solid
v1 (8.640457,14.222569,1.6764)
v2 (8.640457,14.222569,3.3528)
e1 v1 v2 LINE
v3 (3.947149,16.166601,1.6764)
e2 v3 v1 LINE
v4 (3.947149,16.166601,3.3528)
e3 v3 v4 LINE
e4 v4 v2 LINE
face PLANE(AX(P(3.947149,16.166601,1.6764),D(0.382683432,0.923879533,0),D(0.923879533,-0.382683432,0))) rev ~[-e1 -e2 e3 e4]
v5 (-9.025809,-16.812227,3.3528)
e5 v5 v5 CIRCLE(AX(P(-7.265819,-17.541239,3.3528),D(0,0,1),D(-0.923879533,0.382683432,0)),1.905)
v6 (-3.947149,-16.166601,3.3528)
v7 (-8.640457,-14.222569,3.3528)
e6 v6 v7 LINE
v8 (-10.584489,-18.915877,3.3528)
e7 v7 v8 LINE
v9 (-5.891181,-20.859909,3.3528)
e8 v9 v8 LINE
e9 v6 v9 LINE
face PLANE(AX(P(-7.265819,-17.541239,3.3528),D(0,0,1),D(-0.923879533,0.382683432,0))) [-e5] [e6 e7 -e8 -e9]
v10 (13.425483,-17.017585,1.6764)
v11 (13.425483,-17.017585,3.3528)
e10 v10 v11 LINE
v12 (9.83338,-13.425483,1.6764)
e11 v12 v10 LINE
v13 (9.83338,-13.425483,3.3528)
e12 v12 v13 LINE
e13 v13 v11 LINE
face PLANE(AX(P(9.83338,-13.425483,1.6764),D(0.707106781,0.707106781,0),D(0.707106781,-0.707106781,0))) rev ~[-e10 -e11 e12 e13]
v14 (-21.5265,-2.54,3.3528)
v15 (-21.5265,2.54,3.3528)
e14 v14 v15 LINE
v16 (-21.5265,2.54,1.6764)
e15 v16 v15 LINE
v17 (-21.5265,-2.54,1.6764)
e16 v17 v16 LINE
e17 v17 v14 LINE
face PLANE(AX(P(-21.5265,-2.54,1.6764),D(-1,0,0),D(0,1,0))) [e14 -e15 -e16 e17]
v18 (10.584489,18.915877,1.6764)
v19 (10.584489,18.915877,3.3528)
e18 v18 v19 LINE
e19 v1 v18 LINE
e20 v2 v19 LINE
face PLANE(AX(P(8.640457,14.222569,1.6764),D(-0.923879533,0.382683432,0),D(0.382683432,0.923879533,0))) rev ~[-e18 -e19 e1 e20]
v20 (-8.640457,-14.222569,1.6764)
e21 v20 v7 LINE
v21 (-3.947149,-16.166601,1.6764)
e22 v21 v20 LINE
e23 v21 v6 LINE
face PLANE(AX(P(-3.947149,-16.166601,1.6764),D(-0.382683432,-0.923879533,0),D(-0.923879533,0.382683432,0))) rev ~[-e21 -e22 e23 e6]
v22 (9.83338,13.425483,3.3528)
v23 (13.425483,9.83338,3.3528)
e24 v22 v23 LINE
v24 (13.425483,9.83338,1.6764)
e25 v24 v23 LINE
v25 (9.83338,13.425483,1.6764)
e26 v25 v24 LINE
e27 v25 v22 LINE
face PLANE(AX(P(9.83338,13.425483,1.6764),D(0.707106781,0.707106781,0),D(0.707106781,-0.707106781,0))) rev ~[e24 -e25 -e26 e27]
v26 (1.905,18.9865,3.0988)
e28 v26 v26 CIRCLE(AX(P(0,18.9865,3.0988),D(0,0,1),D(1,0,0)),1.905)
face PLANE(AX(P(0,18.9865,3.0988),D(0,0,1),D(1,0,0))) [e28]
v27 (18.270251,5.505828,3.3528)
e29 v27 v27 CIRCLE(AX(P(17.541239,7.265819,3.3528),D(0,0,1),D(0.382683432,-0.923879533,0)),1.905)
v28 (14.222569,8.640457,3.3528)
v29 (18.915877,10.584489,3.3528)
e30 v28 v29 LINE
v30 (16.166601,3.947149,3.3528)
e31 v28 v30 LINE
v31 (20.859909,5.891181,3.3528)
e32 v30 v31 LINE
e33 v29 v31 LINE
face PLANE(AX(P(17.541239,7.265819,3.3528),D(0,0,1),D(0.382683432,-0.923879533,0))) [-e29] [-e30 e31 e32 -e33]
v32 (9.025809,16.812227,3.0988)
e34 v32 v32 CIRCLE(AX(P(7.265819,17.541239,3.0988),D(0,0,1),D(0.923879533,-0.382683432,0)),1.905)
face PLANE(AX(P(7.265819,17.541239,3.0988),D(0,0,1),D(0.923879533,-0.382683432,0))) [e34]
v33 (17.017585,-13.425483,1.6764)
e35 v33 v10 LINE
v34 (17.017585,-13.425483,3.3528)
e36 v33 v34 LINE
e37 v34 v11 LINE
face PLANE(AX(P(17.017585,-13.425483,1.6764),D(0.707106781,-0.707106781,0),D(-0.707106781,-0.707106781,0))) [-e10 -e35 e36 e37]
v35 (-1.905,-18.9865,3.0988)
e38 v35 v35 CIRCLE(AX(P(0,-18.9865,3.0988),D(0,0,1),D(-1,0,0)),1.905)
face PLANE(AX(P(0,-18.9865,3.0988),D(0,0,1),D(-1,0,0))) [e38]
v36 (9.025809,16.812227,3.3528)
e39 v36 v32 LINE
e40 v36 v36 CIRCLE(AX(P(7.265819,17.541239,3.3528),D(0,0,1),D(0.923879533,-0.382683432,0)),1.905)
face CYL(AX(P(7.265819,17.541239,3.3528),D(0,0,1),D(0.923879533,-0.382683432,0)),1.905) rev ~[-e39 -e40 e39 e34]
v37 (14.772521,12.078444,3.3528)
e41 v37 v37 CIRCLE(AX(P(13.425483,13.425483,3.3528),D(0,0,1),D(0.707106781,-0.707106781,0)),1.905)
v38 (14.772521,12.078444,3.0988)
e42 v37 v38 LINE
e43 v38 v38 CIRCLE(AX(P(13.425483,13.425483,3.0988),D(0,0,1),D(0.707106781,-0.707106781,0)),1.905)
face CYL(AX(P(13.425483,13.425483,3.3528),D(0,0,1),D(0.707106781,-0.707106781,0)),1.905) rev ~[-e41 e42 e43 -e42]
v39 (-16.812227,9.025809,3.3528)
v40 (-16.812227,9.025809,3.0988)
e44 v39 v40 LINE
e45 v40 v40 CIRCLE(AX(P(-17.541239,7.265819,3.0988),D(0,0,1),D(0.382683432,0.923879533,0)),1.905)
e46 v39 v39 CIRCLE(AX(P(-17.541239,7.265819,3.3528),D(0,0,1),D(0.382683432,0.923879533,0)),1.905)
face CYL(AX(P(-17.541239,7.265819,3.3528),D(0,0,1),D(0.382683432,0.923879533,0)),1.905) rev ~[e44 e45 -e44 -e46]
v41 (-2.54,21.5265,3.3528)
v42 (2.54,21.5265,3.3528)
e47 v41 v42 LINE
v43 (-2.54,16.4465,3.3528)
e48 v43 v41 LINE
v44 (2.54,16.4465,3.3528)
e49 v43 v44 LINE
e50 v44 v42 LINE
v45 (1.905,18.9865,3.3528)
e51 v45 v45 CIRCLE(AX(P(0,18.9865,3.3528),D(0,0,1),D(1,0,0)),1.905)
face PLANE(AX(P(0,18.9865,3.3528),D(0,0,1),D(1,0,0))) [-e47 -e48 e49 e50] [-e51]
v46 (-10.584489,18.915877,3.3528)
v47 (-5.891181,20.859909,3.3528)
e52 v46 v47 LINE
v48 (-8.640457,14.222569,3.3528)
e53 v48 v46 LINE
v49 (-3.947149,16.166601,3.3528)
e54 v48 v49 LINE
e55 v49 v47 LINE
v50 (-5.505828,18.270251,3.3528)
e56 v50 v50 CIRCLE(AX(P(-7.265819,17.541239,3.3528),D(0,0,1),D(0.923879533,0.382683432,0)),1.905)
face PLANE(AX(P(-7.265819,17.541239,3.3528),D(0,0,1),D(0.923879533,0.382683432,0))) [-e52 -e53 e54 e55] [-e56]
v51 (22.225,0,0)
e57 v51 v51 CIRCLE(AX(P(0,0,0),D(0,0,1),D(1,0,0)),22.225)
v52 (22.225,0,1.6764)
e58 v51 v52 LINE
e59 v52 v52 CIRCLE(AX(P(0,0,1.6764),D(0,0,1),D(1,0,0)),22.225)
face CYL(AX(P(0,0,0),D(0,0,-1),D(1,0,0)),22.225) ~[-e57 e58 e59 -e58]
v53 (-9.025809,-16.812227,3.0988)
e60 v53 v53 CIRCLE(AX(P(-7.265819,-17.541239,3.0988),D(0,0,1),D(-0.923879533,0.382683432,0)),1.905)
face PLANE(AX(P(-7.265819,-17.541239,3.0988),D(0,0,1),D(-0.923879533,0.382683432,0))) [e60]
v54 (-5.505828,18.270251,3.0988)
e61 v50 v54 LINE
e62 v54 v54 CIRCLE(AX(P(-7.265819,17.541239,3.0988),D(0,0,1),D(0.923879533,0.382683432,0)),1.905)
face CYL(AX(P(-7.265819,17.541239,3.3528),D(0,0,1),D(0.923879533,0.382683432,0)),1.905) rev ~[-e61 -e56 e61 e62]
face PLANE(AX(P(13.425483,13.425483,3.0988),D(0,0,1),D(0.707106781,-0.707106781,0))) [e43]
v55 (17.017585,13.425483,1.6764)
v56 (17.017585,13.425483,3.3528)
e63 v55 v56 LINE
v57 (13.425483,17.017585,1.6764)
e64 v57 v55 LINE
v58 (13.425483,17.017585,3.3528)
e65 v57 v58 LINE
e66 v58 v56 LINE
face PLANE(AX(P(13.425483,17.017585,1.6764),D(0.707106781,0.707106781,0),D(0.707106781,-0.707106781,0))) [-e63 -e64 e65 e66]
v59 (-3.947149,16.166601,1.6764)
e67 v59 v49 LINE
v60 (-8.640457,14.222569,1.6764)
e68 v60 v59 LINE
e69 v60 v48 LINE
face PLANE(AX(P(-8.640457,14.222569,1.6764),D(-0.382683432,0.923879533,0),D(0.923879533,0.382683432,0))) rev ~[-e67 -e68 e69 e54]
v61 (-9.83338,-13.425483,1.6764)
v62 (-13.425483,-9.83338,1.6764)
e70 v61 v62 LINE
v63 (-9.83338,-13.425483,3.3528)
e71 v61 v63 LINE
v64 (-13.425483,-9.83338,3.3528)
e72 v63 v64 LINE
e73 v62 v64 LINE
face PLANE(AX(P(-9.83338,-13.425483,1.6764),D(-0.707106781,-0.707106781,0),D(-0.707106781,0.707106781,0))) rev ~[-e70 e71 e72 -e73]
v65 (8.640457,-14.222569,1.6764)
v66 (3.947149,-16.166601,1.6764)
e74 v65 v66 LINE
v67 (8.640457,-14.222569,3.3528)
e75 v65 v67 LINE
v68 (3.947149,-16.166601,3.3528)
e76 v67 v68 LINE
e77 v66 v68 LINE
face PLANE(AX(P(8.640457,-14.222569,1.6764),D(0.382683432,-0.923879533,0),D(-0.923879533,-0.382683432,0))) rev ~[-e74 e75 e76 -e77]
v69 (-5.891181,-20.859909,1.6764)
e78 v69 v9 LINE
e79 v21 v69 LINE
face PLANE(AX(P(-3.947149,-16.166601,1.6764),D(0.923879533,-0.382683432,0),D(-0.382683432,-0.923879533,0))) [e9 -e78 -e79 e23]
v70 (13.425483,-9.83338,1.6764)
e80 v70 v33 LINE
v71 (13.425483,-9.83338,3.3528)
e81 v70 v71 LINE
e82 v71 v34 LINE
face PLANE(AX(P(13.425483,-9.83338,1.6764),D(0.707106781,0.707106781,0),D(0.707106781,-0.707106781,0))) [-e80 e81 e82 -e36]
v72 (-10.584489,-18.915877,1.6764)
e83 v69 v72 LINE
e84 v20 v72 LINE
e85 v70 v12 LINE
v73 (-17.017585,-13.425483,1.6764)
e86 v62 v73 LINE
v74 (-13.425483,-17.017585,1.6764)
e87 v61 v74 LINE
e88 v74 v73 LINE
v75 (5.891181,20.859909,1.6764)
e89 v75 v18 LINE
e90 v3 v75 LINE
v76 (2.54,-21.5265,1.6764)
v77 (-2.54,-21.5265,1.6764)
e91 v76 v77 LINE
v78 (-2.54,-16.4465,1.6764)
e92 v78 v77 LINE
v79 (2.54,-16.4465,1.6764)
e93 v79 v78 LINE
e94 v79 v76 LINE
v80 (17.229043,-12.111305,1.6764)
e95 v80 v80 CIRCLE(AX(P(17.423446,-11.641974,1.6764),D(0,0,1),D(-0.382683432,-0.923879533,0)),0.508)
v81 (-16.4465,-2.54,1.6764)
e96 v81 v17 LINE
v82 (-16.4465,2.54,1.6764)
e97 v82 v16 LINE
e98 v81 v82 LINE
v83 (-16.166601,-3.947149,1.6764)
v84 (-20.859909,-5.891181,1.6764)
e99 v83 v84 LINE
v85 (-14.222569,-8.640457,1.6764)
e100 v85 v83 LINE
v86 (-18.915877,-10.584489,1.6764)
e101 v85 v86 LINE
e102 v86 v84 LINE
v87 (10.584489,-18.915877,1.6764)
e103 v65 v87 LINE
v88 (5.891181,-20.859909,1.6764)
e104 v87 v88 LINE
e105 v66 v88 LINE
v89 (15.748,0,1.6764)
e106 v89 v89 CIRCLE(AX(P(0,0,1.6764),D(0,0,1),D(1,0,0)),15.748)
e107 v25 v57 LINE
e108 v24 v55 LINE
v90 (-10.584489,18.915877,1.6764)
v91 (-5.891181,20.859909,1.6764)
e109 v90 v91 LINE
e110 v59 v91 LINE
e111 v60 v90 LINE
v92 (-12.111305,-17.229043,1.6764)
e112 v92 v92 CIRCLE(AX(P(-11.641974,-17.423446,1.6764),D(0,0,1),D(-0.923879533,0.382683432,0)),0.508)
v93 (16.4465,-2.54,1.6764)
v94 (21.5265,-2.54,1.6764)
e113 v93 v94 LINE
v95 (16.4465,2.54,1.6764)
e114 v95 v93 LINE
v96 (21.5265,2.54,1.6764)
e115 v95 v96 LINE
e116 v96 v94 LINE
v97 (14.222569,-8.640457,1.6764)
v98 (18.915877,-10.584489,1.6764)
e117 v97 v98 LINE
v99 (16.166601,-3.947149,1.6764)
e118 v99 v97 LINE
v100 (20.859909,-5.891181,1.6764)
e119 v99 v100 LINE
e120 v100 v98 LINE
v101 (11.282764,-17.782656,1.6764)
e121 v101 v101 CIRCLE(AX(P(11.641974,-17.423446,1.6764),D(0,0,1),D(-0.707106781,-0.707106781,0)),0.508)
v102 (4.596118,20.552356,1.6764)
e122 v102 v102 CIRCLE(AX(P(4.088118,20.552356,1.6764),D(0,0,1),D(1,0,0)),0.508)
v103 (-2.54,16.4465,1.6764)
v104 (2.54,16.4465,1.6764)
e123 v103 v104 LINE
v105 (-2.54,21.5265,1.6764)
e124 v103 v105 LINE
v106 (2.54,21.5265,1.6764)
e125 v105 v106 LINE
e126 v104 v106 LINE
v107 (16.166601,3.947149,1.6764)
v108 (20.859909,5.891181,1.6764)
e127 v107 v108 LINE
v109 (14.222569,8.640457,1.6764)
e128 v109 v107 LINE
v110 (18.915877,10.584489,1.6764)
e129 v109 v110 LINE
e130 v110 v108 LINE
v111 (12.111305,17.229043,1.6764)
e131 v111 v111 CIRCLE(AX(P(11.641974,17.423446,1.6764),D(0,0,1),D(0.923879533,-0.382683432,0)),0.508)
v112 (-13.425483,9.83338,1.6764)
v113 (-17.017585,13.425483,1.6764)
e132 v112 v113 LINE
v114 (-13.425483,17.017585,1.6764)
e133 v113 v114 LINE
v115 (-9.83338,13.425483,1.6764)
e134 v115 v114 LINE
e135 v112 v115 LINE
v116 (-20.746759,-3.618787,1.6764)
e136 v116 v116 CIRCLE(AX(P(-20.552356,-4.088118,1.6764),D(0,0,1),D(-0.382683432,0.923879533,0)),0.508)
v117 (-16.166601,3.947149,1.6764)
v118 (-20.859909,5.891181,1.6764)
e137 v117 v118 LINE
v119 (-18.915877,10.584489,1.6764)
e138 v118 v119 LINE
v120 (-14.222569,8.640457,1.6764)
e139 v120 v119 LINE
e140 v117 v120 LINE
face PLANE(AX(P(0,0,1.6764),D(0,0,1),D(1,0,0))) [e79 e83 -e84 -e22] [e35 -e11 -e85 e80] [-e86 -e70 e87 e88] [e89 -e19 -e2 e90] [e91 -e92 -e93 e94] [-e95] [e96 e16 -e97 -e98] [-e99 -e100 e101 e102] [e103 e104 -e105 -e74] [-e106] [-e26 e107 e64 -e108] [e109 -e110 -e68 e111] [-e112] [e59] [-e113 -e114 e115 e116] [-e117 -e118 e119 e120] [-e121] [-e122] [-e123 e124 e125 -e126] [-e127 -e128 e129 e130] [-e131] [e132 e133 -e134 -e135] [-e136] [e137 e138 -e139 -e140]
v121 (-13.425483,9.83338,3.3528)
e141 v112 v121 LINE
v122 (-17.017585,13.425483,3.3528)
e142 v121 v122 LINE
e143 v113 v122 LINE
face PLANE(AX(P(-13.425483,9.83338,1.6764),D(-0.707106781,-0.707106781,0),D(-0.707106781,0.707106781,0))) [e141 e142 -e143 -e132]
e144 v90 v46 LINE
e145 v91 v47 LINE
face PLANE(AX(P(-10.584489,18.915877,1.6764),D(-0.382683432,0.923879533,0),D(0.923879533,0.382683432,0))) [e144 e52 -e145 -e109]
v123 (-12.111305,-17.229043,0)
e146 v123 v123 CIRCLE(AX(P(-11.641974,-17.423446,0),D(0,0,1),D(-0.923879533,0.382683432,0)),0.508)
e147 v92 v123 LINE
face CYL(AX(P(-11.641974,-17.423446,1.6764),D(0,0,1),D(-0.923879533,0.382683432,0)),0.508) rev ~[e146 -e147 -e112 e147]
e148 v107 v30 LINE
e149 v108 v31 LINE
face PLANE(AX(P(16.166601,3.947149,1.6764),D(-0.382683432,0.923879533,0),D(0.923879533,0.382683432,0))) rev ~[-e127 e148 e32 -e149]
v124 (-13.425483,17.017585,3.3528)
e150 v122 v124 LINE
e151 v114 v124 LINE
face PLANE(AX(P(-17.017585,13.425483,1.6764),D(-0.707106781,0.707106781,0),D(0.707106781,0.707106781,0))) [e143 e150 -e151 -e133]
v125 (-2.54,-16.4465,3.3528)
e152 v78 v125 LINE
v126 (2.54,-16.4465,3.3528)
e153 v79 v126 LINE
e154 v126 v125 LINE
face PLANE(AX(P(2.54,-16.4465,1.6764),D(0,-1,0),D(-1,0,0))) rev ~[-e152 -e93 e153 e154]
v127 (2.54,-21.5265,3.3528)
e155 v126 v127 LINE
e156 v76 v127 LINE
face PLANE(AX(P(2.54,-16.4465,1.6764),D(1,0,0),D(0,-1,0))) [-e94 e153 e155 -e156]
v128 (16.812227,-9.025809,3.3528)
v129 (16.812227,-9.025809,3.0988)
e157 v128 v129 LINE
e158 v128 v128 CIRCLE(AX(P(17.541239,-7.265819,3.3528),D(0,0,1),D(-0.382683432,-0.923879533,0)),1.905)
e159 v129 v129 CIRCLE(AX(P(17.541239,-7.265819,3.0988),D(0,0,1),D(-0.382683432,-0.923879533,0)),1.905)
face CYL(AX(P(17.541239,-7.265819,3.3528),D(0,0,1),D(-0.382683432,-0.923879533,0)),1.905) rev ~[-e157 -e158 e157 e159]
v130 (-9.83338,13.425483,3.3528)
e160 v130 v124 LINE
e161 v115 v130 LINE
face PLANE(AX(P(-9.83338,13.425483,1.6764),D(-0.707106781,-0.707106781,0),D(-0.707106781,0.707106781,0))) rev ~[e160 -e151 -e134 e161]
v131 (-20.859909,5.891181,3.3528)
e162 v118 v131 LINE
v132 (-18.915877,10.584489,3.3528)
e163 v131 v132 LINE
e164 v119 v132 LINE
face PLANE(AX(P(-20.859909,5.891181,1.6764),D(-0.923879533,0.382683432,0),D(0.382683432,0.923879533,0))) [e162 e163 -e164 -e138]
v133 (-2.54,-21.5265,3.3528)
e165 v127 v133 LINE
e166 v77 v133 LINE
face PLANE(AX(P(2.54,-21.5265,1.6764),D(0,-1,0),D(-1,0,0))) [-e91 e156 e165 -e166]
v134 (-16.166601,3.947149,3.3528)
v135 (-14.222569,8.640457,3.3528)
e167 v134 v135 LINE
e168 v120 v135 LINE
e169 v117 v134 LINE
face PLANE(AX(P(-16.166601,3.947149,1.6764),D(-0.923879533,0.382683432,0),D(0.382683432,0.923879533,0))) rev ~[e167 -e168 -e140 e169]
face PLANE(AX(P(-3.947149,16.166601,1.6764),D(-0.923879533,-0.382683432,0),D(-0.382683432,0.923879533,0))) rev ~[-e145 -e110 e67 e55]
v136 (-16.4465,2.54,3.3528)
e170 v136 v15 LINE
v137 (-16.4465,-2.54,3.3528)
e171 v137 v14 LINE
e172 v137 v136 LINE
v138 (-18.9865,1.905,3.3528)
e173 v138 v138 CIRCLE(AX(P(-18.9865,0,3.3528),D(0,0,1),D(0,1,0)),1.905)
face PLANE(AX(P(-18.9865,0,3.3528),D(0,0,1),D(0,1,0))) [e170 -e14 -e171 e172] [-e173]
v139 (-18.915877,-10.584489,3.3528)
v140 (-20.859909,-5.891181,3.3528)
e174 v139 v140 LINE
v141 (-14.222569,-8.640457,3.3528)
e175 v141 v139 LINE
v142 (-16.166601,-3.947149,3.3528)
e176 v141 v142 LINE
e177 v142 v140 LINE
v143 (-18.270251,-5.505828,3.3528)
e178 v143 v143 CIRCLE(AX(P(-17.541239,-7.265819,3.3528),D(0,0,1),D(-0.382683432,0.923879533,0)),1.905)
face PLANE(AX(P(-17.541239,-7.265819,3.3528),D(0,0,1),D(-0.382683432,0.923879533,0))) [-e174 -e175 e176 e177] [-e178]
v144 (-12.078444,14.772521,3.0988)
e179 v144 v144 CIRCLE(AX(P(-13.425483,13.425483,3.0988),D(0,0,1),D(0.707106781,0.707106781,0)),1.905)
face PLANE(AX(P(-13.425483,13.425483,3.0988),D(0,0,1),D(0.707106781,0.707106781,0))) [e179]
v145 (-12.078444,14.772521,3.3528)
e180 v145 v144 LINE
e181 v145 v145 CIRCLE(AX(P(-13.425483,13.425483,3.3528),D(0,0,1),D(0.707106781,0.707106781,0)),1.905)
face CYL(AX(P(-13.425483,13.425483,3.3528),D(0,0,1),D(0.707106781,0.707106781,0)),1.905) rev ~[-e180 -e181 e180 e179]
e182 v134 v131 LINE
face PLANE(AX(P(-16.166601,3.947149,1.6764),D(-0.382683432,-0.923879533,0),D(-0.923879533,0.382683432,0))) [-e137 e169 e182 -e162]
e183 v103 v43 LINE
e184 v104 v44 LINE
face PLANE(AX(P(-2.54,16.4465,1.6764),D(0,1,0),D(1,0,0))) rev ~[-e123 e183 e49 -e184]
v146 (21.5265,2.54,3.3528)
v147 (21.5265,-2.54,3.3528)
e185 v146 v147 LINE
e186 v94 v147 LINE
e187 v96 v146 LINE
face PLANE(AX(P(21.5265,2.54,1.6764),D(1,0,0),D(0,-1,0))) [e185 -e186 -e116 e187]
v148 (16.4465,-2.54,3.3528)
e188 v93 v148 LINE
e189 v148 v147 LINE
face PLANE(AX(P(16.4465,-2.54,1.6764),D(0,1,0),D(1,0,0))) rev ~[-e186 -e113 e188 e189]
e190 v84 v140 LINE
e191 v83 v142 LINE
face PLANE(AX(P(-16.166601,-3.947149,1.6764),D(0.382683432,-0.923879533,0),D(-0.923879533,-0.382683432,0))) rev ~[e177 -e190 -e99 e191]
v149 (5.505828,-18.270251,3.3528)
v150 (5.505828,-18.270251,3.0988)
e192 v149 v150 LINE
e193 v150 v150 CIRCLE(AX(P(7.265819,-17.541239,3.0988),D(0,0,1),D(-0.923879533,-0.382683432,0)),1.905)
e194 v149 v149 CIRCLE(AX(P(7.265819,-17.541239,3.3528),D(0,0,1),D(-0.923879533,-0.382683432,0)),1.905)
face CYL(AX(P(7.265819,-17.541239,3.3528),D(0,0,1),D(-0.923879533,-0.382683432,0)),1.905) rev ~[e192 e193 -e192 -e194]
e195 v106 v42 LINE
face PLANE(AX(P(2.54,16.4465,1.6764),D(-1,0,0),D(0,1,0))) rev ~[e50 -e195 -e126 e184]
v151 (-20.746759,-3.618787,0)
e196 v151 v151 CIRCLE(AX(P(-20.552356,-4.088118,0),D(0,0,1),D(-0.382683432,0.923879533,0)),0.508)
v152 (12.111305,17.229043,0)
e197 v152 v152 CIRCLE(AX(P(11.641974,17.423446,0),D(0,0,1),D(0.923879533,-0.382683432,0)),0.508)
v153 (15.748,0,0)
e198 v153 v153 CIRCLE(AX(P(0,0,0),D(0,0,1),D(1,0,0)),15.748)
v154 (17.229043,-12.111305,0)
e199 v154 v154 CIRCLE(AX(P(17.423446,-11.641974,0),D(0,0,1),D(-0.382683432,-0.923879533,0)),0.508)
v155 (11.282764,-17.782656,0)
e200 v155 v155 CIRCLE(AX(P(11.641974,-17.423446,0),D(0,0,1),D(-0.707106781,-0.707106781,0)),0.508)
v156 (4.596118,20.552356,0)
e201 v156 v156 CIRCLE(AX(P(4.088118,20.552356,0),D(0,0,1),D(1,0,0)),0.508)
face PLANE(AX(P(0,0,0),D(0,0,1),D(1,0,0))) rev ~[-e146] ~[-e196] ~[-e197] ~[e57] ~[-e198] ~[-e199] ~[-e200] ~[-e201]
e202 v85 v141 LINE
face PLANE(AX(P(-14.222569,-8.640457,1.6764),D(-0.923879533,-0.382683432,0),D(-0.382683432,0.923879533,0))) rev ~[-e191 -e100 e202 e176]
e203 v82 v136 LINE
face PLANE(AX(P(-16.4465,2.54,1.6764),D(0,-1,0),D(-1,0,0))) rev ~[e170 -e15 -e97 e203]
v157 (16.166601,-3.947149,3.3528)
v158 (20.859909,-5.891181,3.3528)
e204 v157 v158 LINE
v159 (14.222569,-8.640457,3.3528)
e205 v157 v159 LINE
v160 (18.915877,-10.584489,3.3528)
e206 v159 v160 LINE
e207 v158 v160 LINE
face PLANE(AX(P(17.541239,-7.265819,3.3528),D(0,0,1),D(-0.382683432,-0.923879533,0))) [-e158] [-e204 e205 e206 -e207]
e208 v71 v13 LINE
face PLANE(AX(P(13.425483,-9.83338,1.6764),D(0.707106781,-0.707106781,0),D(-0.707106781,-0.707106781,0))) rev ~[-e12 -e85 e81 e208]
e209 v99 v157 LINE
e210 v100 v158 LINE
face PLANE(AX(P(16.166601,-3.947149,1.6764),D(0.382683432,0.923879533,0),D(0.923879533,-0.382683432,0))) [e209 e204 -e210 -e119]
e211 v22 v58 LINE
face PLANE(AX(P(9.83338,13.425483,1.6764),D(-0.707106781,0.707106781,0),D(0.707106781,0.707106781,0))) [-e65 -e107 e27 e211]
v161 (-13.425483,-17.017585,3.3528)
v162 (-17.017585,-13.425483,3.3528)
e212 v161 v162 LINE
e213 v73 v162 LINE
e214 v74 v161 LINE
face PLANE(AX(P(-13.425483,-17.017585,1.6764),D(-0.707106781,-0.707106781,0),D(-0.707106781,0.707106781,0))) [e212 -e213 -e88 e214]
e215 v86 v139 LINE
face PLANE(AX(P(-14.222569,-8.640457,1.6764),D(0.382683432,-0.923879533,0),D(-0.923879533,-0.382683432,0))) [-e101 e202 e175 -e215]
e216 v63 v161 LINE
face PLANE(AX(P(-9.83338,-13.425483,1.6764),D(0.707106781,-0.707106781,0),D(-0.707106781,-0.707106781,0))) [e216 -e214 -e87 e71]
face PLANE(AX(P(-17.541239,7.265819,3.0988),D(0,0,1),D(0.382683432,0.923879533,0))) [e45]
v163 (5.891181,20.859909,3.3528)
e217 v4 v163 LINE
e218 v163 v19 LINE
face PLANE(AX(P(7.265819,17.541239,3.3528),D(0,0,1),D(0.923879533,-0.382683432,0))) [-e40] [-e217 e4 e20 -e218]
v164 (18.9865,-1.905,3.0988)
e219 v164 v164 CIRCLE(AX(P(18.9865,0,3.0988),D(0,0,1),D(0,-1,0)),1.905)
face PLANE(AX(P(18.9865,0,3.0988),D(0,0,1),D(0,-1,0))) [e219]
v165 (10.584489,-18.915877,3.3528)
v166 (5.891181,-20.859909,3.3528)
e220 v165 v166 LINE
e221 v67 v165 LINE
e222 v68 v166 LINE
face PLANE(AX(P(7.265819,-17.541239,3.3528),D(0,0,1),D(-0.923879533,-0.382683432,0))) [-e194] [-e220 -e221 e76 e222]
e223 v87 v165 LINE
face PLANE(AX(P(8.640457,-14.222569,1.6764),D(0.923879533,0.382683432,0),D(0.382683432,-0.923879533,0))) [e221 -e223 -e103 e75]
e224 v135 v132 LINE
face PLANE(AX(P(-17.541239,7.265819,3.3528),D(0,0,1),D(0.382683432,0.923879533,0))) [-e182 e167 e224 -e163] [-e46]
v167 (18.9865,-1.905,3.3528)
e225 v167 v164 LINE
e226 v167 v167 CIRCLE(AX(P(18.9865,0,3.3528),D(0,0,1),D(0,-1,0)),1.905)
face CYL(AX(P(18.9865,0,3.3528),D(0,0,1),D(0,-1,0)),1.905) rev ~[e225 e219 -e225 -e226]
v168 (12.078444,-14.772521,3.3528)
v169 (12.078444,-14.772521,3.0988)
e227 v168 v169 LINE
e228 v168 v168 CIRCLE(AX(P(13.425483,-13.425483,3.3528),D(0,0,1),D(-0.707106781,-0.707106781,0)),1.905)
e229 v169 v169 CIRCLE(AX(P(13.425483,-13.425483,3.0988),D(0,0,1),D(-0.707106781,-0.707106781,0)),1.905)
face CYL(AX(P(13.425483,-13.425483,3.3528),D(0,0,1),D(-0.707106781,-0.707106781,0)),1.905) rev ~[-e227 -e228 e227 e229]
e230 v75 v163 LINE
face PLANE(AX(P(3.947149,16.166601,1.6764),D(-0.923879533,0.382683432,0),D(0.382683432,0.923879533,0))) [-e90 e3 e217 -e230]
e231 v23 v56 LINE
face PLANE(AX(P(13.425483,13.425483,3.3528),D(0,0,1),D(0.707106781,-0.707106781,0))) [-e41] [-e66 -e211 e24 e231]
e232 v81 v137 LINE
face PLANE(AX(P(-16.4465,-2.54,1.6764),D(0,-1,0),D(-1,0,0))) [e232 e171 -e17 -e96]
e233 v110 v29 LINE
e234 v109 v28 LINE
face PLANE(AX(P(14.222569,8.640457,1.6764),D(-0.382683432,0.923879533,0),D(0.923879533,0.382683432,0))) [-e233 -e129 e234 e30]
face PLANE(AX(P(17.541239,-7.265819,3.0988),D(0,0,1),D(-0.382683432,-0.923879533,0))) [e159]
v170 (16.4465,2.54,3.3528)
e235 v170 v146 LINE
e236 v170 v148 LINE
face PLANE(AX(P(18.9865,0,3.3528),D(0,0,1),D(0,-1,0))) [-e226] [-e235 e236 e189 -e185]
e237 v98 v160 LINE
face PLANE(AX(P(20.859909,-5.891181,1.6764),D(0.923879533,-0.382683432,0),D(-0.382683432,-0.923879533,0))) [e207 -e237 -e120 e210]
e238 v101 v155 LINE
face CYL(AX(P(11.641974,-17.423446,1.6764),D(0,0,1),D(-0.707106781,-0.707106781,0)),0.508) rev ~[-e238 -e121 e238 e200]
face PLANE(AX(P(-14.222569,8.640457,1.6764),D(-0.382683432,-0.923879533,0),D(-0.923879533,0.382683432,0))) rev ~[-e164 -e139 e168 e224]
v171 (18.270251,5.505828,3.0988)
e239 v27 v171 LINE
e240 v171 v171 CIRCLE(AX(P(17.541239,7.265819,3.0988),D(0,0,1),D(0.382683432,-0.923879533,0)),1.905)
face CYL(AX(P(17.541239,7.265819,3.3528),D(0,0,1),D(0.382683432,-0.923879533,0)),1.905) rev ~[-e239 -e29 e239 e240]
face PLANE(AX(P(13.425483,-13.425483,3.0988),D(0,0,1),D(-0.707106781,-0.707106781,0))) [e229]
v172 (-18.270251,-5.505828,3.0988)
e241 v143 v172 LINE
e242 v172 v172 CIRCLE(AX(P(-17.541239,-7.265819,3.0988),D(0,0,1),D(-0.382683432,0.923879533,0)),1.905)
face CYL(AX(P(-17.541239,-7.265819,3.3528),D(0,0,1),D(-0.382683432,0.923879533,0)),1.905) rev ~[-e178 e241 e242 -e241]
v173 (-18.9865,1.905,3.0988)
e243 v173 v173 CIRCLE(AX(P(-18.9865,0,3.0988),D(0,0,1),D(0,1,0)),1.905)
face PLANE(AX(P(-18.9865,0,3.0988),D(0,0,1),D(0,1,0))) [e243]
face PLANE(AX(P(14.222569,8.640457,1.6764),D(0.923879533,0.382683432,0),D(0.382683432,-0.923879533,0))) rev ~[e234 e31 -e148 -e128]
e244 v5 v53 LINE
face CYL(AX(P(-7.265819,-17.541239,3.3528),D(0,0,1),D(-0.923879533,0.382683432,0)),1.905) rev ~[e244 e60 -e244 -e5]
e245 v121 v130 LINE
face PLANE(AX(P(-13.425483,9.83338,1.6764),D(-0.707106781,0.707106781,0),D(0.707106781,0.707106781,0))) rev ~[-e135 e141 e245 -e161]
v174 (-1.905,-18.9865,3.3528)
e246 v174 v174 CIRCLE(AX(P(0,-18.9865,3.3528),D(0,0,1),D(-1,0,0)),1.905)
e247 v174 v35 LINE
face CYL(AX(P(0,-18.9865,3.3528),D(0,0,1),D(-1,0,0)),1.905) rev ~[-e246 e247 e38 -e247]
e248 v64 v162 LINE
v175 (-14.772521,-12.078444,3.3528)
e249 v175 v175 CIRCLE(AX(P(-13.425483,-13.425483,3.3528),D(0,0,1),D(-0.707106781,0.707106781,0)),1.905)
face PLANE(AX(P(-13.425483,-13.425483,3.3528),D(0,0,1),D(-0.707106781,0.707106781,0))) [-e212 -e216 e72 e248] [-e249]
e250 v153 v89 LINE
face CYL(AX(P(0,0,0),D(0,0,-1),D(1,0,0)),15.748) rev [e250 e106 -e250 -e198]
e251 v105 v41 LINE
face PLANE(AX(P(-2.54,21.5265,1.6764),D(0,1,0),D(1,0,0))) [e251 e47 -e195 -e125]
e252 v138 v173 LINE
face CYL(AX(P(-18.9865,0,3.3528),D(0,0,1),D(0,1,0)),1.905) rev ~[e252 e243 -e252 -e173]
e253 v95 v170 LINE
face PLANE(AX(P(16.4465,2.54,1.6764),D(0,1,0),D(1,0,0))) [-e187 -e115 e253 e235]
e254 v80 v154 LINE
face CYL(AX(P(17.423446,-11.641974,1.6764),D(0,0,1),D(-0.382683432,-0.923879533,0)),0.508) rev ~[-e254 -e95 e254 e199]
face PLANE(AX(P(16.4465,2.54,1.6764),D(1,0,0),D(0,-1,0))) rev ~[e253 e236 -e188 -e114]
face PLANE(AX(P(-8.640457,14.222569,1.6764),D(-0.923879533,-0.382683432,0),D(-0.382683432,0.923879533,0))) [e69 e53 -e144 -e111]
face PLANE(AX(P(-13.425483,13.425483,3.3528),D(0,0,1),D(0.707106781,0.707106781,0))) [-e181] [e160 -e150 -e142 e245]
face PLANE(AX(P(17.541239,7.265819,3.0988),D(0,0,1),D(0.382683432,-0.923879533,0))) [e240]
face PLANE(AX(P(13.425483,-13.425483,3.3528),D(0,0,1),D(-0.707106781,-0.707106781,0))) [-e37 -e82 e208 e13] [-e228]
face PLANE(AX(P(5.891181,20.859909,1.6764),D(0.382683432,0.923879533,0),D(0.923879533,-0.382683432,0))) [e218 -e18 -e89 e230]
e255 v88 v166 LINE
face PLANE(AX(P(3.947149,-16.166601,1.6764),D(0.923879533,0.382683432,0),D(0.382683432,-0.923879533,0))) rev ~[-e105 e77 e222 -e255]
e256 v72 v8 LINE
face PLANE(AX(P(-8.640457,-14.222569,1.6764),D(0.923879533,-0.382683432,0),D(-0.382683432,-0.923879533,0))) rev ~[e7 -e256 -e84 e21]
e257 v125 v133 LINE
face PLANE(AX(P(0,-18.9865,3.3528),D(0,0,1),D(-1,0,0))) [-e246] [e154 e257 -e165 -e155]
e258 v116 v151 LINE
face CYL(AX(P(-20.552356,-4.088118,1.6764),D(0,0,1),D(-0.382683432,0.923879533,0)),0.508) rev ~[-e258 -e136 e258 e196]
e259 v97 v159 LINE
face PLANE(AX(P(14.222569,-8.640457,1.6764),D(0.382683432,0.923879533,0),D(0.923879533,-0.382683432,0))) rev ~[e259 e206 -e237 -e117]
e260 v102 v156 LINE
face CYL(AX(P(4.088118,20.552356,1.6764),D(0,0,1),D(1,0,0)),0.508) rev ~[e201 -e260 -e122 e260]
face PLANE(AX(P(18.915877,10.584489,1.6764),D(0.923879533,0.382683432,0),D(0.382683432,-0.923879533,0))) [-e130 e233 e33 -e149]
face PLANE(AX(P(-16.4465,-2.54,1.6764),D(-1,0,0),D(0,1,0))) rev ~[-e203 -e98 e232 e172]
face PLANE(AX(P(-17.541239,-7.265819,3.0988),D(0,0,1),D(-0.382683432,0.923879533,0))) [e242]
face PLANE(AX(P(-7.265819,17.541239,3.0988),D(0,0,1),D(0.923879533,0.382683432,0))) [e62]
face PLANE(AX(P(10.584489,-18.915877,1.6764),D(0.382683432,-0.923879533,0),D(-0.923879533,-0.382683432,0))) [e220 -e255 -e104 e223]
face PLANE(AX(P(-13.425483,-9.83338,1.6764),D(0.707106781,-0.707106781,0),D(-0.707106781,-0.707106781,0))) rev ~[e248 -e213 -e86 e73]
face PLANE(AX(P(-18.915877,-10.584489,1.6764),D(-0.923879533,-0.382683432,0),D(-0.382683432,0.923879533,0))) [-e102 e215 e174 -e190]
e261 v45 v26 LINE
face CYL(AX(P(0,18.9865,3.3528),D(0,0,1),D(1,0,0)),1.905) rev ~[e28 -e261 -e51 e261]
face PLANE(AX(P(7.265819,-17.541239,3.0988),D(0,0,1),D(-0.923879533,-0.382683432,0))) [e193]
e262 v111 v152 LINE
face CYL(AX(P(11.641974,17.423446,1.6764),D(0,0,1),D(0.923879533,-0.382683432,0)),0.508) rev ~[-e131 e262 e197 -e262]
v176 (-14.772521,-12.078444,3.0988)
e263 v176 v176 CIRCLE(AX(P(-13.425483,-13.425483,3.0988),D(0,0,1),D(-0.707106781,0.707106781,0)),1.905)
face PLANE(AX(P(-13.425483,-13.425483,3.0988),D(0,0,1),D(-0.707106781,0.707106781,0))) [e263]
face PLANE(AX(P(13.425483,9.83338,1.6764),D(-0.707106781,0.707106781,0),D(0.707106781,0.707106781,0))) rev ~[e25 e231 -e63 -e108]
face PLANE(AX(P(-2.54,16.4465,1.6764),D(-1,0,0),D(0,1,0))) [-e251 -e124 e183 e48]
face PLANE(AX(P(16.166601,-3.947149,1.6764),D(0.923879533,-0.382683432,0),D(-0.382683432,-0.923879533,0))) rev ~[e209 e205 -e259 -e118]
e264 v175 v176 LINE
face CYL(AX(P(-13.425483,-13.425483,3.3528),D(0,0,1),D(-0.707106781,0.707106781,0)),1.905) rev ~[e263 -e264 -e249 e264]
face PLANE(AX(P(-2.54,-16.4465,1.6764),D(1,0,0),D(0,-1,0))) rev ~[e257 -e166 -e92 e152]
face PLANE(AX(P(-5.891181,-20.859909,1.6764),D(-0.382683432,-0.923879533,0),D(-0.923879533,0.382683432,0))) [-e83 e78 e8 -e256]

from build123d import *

# Parameters (mm, degrees)
SKETCH1_R           = 22.225
SKETCH1_R_2         = 15.748
BOSS_EXTRUDE1_DEPTH = 1.6764
SKETCH2_W           = 5.08
SKETCH2_H           = 5.08
BOSS_EXTRUDE2_DEPTH = 1.6764
SKETCH3_R           = 1.905
CUT_EXTRUDE1_DEPTH  = 0.254
CIRPATTERN1_COUNT   = 16
SKETCH4_R           = 0.508
CUT_EXTRUDE2_DEPTH  = 32.475570955
CIRPATTERN2_COUNT   = 16


with BuildPart() as part:
    # Sketch1 → Boss-Extrude1 (new body)
    with BuildSketch(Plane.XY):
        Circle(SKETCH1_R)
        Circle(SKETCH1_R_2, mode=Mode.SUBTRACT)
    extrude(amount=BOSS_EXTRUDE1_DEPTH)

    # Sketch2 → Boss-Extrude2 (add)
    with BuildSketch(Plane.XY.offset(1.6764)):
        with Locations((0, 18.9865)):
            Rectangle(SKETCH2_W, SKETCH2_H)
    boss_extrude2 = extrude(amount=BOSS_EXTRUDE2_DEPTH)

    # Sketch3 → Cut-Extrude1 (cut)
    with BuildSketch(Plane.XY.offset(3.3528)):
        with Locations((0, 18.9865)):
            Circle(SKETCH3_R)
    cut_extrude1 = extrude(amount=-CUT_EXTRUDE1_DEPTH, mode=Mode.SUBTRACT)

    # CirPattern1: Boss-Extrude2, Cut-Extrude1 ×16 about axis
    cirpattern1_axis = Axis((0, 0, 0), (0, 0, 1))
    add([boss_extrude2.rotate(cirpattern1_axis, i * 360 / CIRPATTERN1_COUNT) for i in range(1, CIRPATTERN1_COUNT)])
    add([cut_extrude1.rotate(cirpattern1_axis, i * 360 / CIRPATTERN1_COUNT) for i in range(1, CIRPATTERN1_COUNT)], mode=Mode.SUBTRACT)

    # Sketch4 → Cut-Extrude2 (cut, through all)
    with BuildSketch(Plane.XY.offset(1.6764)):
        with Locations((4.088117698, 20.552355551)):
            Circle(SKETCH4_R)
    cut_extrude2 = extrude(amount=-CUT_EXTRUDE2_DEPTH, mode=Mode.SUBTRACT)

    # CirPattern2: Cut-Extrude2 ×16 about axis, 10 skipped
    cirpattern2_axis = Axis((0, 0, 0), (0, 0, 1))
    add([cut_extrude2.rotate(cirpattern2_axis, i * 360 / CIRPATTERN2_COUNT) for i in range(1, CIRPATTERN2_COUNT) if i not in (1, 2, 3, 4, 6, 8, 9, 12, 13, 14)], mode=Mode.SUBTRACT)


solid = part.part
